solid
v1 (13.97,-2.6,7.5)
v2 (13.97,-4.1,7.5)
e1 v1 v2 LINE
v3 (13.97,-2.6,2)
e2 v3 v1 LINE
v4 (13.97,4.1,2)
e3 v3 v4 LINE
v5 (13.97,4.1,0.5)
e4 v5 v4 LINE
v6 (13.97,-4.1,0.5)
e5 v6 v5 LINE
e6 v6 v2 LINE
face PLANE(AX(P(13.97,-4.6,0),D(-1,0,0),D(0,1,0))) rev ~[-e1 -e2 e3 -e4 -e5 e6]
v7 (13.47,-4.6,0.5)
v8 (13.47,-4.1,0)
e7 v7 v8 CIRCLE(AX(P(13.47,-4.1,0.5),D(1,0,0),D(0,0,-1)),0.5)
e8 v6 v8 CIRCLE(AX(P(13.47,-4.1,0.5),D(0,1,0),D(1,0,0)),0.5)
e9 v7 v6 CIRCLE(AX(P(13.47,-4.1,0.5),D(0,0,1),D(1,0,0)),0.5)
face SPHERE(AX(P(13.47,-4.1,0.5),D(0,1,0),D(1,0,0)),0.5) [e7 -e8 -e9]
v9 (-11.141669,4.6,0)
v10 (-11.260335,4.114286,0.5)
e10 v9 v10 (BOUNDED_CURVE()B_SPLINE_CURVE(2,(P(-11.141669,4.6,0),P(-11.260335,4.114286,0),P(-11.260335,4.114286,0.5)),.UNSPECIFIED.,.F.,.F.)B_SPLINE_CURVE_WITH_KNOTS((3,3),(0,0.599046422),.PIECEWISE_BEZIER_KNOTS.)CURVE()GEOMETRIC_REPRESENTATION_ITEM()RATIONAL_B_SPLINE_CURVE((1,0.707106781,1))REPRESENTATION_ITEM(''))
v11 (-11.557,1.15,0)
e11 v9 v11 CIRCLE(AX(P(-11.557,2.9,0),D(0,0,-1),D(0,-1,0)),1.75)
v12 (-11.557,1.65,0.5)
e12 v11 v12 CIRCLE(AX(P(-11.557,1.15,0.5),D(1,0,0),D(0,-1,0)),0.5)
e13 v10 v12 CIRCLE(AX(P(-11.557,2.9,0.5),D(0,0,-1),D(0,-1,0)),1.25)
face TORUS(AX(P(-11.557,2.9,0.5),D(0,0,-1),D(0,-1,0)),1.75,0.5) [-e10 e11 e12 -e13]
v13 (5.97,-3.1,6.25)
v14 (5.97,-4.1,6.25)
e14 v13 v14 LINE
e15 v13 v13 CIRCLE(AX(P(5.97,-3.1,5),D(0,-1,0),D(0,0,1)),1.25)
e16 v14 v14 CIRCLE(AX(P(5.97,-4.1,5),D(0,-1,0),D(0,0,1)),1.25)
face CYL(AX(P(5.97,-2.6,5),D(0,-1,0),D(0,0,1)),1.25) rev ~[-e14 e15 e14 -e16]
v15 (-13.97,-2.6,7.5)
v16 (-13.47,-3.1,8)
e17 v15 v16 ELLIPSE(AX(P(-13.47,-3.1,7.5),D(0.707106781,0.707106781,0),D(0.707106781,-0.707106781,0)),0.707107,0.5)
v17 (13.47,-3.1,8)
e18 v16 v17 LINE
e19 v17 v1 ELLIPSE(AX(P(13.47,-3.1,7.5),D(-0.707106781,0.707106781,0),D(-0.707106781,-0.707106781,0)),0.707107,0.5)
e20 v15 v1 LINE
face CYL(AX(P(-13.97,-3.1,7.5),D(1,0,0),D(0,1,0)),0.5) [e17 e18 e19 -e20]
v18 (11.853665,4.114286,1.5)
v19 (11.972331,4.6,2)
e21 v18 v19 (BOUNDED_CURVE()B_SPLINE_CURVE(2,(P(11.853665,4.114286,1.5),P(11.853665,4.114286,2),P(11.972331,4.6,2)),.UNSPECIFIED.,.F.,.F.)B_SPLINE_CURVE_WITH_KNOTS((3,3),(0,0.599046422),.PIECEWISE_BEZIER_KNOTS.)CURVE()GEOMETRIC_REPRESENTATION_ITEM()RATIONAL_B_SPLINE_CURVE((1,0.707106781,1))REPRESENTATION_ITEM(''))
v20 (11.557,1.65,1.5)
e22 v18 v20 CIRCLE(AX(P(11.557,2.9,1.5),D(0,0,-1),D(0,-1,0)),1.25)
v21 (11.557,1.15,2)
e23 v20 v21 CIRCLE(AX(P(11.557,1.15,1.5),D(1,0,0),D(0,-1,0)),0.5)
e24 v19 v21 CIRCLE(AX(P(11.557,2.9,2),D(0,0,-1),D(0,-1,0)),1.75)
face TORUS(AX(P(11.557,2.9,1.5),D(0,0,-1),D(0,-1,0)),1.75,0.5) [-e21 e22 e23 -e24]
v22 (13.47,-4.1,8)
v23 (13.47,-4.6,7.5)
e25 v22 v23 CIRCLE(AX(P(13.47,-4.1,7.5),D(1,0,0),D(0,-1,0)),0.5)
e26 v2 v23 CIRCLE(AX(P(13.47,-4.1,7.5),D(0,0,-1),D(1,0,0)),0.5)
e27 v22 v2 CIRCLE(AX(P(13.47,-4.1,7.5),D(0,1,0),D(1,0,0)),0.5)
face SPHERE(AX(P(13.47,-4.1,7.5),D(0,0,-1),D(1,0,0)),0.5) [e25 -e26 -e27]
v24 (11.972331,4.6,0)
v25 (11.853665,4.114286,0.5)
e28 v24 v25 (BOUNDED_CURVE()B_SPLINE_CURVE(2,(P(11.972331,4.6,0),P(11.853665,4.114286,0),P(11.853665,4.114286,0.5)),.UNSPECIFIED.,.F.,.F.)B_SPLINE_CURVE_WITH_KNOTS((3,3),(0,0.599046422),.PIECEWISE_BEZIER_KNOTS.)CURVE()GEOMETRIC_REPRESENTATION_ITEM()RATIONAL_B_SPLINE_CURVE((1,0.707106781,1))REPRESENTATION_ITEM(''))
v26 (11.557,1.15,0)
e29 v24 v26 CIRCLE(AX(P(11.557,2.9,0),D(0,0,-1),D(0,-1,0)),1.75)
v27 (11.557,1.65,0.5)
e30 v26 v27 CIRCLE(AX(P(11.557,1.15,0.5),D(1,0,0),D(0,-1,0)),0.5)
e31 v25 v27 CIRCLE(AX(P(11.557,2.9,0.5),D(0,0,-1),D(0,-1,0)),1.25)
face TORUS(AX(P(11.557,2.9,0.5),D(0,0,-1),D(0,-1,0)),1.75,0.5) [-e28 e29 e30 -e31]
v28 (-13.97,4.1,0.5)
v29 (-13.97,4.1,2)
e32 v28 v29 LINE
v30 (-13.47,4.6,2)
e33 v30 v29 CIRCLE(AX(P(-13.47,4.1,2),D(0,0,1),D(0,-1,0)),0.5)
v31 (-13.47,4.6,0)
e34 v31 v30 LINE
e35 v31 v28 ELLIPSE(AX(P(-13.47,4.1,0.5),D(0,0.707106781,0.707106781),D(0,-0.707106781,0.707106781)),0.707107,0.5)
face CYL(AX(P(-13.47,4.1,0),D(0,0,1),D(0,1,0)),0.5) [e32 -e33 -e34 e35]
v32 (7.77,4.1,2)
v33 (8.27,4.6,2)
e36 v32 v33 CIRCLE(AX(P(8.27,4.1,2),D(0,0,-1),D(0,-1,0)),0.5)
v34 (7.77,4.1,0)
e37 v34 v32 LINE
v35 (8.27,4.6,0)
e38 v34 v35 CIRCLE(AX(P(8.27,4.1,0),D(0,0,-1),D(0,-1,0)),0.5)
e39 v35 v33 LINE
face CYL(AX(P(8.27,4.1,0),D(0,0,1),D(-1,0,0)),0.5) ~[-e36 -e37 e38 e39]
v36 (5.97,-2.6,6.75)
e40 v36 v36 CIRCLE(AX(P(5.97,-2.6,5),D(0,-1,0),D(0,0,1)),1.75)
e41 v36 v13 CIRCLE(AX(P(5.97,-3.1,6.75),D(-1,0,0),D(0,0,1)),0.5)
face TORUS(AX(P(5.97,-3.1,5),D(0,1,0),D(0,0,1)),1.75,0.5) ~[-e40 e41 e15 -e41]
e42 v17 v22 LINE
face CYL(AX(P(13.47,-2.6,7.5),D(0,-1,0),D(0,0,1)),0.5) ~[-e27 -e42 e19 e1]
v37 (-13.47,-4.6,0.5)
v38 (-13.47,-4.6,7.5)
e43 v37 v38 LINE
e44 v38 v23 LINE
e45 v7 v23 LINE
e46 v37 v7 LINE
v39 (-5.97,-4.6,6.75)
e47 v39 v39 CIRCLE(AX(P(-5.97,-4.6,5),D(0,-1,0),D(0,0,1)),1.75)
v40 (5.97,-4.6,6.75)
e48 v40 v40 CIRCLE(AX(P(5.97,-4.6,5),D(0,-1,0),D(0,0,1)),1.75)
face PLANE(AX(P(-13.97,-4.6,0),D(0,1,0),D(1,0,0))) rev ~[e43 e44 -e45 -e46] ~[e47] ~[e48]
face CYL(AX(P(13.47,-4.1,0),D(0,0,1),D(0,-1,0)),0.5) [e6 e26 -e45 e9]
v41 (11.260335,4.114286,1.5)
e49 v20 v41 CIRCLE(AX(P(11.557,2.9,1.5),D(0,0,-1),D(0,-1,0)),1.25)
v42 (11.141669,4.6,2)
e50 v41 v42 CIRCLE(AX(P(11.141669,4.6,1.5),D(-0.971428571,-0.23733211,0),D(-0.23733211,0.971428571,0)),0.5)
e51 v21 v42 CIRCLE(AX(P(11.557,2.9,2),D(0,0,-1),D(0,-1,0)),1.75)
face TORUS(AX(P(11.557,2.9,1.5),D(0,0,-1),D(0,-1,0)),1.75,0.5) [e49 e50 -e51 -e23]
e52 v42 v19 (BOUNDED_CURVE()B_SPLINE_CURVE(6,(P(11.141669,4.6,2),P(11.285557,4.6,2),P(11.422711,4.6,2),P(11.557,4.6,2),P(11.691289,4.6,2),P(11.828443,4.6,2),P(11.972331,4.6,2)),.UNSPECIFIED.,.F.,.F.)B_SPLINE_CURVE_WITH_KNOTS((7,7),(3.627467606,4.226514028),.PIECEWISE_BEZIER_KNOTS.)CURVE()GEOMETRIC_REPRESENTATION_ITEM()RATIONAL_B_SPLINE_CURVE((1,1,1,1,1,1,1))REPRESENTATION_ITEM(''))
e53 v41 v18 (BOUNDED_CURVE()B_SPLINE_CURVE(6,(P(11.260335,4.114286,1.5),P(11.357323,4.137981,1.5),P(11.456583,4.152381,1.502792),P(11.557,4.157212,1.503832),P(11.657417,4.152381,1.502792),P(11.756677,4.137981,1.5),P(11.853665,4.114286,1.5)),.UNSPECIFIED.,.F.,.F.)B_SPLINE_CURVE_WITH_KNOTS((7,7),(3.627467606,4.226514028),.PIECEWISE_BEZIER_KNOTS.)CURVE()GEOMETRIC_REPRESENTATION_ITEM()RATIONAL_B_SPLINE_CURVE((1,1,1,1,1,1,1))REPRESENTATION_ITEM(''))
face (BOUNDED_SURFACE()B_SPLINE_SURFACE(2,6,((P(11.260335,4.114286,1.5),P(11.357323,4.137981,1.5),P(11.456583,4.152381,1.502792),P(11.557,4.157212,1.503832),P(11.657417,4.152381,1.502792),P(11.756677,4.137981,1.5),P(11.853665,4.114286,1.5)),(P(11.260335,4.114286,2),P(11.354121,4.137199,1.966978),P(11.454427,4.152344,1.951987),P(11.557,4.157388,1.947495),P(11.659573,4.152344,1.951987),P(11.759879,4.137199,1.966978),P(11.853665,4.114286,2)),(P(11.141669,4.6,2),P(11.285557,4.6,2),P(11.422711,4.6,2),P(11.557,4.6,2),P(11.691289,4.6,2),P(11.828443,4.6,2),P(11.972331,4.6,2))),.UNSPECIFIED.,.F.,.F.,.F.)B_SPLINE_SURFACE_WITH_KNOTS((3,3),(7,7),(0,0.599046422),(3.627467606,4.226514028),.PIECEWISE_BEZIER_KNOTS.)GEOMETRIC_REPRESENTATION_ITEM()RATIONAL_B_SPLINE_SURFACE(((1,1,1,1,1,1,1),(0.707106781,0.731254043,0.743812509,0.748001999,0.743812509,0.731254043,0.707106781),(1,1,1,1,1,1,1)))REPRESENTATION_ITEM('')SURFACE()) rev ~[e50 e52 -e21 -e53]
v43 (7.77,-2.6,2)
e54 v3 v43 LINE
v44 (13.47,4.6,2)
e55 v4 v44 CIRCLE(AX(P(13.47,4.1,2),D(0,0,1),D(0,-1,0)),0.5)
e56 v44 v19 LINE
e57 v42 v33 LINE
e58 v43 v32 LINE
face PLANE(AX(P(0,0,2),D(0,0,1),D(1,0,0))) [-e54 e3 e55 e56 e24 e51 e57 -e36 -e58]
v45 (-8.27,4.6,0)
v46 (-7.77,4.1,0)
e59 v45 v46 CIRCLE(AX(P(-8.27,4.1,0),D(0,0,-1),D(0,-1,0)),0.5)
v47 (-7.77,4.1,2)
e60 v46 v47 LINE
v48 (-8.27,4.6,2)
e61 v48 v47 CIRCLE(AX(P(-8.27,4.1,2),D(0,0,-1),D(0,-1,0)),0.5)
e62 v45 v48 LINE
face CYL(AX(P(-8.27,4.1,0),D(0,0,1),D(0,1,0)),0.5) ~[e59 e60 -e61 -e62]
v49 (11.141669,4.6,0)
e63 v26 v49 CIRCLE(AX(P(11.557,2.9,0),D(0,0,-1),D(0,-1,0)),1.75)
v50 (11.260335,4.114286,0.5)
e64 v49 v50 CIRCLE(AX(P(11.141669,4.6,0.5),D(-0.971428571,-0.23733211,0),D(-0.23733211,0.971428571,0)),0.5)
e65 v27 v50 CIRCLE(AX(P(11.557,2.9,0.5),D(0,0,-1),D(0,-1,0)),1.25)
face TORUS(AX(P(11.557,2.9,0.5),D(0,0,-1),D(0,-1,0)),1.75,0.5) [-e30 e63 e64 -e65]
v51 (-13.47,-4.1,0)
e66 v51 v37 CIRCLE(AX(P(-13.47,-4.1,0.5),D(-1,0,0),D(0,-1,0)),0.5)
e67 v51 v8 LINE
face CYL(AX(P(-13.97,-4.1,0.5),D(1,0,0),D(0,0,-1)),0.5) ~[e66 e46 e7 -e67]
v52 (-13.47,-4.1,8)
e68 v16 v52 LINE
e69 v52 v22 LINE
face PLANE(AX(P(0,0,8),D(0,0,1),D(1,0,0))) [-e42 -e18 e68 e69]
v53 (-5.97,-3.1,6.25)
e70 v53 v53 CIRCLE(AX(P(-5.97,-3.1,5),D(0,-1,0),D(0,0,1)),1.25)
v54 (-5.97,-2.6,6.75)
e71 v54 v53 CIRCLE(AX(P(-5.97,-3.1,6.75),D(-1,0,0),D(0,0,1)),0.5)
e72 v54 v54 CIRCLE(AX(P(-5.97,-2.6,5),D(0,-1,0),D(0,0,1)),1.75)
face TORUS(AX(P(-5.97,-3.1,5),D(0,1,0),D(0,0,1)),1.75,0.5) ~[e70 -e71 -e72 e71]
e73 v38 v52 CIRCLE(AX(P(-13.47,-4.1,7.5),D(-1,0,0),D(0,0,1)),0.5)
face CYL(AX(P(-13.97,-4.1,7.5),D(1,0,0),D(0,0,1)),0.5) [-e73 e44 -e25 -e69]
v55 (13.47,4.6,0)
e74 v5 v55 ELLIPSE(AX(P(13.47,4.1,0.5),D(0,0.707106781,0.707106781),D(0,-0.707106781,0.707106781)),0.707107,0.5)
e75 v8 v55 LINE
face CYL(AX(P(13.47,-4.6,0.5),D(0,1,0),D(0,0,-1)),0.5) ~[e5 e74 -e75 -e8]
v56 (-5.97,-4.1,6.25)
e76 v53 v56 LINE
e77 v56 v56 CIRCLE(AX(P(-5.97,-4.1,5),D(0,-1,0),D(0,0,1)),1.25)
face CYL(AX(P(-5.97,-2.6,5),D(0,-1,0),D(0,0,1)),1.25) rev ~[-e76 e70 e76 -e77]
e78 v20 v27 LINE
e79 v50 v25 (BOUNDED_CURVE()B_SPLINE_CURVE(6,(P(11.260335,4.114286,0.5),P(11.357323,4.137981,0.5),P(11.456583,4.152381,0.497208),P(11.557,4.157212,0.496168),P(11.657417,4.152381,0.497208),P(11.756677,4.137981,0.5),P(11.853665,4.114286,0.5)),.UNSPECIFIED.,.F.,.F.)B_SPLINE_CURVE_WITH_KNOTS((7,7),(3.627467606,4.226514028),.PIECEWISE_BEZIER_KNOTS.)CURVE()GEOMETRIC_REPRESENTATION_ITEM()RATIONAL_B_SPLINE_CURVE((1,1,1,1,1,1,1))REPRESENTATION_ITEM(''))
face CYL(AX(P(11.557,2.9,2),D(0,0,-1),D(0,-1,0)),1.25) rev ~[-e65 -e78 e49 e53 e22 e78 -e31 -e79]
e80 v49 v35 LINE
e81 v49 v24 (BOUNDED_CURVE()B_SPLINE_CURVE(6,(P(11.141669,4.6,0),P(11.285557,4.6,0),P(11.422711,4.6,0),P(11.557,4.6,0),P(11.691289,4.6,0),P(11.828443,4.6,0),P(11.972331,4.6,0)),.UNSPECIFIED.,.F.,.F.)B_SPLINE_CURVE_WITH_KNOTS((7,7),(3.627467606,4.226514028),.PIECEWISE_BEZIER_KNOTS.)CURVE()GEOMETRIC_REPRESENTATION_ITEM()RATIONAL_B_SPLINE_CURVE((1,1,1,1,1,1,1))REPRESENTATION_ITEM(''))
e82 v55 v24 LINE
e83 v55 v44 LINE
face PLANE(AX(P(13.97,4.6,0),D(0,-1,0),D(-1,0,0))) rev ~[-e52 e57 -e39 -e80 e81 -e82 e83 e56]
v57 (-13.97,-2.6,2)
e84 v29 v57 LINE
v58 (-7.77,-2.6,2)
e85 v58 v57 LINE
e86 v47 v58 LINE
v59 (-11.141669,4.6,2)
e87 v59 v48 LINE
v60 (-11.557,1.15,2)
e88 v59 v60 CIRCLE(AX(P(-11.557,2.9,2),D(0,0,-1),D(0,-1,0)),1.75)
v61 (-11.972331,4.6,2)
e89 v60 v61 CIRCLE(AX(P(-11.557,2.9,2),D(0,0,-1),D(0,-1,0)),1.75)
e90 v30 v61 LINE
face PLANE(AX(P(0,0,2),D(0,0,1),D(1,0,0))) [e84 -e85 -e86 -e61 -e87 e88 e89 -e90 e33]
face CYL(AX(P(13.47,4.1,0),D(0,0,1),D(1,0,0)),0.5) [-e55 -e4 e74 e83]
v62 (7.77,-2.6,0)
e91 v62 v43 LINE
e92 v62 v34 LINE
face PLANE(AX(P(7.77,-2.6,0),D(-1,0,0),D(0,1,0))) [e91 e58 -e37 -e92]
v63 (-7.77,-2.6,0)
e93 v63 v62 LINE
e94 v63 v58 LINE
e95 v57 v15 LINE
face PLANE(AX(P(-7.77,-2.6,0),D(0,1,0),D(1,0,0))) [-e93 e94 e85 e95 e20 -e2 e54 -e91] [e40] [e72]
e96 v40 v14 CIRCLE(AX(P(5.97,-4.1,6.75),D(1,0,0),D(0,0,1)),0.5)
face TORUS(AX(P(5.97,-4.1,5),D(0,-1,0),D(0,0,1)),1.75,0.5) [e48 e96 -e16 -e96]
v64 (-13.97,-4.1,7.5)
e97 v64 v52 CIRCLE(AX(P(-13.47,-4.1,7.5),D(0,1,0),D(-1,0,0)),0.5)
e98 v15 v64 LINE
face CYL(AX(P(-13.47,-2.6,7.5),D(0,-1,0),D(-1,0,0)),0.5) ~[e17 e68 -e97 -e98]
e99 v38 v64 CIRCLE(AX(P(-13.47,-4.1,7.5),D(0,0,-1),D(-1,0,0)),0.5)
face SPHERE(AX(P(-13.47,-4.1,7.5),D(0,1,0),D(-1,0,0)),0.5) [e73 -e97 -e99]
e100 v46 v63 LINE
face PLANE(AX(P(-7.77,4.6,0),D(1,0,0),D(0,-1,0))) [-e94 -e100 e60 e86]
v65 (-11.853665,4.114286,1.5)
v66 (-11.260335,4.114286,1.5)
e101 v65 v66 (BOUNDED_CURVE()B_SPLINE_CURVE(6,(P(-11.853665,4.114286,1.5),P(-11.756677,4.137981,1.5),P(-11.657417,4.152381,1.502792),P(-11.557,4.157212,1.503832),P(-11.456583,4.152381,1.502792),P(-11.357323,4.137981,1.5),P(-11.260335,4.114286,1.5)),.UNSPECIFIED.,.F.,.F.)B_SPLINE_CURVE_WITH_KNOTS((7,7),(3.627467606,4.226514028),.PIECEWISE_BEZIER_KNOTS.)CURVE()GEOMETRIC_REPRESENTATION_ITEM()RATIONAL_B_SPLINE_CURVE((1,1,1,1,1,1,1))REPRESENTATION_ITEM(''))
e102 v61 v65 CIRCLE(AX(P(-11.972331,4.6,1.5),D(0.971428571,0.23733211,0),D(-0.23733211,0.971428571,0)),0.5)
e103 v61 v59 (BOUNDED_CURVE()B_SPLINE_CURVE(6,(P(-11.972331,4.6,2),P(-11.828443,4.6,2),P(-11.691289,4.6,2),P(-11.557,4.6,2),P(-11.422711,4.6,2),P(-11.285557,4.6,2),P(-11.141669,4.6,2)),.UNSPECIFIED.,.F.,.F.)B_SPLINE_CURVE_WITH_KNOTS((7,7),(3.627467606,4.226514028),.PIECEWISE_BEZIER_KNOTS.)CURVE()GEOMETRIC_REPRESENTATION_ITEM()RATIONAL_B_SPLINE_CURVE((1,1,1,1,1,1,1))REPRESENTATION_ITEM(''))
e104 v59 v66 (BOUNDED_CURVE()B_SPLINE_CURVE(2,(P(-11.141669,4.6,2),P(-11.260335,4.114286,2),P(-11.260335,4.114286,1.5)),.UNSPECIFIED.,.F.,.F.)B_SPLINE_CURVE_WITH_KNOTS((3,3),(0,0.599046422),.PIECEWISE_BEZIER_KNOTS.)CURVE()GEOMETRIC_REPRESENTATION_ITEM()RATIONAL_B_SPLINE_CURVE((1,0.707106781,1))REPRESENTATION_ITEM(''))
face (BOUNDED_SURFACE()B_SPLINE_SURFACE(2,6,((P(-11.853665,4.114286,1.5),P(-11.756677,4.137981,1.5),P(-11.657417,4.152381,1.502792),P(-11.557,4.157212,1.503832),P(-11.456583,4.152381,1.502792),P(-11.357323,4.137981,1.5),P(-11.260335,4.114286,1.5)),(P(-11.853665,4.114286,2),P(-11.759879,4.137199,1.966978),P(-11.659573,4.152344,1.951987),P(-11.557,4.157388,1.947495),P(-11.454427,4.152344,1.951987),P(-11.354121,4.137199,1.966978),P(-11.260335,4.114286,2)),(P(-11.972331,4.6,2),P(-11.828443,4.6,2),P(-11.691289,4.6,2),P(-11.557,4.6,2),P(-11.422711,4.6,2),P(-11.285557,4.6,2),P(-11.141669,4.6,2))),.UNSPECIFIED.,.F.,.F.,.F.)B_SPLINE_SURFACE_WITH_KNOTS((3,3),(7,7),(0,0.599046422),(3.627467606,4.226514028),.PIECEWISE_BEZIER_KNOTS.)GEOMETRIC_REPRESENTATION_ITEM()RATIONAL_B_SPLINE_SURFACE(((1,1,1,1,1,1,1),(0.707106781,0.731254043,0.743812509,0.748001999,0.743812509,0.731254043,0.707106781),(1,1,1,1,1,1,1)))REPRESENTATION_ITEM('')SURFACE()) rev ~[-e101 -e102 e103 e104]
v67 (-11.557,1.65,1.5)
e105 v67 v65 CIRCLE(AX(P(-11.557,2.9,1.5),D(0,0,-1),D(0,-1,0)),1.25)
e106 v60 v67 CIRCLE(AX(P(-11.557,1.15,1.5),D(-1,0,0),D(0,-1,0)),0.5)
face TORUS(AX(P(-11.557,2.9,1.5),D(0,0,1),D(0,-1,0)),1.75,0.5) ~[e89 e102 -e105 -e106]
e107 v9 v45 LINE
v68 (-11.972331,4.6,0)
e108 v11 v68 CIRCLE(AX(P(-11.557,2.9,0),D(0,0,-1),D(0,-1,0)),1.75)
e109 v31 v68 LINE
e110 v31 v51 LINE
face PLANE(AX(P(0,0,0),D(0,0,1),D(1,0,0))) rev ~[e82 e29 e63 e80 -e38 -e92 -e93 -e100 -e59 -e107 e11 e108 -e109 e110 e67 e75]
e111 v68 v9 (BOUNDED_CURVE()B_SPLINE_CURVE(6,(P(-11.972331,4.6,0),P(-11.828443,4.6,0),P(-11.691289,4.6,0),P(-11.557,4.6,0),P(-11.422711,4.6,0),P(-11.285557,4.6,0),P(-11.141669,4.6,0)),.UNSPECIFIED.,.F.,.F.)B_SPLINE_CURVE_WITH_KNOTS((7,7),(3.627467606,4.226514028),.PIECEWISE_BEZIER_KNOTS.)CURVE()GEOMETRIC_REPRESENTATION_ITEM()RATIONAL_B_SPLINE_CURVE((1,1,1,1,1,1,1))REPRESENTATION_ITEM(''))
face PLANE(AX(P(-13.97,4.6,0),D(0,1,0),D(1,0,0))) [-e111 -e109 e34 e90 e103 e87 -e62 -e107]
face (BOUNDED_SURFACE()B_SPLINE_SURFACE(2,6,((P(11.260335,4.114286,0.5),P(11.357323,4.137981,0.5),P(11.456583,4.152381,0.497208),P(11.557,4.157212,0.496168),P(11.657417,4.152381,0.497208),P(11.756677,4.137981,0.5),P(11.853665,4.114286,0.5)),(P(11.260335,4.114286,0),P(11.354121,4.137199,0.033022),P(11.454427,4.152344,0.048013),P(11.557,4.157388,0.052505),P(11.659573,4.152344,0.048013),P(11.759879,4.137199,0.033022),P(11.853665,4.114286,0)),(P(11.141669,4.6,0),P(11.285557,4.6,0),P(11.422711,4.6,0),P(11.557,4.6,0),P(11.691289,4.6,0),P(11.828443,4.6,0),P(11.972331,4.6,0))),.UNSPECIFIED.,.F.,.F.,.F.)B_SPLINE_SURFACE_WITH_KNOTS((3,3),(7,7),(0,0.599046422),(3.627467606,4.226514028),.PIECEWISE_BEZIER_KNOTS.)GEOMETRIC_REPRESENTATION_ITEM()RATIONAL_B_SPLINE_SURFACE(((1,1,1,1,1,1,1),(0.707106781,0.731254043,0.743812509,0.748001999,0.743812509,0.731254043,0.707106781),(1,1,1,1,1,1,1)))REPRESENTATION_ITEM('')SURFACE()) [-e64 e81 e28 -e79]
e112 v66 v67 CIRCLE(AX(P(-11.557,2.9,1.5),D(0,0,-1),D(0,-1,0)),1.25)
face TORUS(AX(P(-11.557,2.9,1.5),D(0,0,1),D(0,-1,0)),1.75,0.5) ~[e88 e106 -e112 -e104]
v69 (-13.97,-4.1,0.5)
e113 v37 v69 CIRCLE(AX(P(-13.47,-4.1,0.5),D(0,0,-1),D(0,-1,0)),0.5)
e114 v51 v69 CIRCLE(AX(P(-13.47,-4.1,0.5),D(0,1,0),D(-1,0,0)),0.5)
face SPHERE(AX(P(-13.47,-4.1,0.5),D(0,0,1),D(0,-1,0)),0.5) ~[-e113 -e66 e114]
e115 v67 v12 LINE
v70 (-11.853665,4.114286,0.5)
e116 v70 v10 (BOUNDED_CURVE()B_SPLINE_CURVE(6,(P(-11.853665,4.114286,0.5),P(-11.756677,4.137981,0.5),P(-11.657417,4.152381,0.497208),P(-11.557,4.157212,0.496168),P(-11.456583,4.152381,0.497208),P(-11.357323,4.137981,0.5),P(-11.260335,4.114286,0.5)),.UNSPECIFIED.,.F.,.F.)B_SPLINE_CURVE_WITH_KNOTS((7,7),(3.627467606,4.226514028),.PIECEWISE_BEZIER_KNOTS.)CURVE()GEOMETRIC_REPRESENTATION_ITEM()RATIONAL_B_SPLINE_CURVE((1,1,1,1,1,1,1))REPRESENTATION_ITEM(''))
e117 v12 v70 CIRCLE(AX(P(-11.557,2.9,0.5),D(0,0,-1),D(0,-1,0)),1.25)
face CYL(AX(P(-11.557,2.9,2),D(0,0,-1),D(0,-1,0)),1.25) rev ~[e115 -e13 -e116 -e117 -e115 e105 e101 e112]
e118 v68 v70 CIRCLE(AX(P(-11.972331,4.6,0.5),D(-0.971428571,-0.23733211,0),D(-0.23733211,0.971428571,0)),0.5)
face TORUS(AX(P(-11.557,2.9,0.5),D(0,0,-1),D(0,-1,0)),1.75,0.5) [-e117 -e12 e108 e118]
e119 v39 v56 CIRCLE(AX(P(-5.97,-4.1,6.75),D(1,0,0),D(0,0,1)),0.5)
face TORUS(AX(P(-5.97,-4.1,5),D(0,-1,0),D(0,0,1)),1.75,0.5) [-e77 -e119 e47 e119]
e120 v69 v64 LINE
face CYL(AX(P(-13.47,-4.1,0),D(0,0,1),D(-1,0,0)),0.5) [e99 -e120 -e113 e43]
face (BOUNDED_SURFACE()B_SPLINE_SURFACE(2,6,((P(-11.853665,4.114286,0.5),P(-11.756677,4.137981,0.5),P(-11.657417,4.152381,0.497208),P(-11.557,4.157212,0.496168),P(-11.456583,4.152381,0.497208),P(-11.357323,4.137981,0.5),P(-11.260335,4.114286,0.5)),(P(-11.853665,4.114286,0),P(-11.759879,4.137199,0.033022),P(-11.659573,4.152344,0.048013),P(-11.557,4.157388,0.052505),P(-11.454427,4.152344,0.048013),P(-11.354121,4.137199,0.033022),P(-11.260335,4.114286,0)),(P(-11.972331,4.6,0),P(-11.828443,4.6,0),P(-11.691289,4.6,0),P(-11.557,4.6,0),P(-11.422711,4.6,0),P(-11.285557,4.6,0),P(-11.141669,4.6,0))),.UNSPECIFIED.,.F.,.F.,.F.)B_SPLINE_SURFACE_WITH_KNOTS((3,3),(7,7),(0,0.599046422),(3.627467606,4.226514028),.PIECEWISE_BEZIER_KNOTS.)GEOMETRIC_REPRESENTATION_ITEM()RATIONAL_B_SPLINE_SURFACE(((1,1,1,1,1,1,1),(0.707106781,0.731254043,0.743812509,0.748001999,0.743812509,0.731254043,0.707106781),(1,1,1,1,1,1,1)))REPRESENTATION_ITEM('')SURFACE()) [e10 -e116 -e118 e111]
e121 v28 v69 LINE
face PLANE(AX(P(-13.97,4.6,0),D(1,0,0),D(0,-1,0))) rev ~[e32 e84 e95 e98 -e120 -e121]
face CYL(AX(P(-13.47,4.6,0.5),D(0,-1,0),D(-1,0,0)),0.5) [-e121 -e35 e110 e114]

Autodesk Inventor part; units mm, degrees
ref_plane "YZ Plane" through (0, 0, 0) normal (1, 0, 0) x (0, 1, 0)
ref_plane "XZ Plane" through (0, 0, 0) normal (0, 1, 0) x (-1, 0, 0)
ref_plane "XY Plane" through (0, 0, 0) normal (0, 0, 1) x (1, 0, 0)
sketch "Sketch1" plane through (0, 0, 0) normal (0, 0, 1) x (1, 0, 0)
  line L0 (-13.97, 4.6) -> (-13.97, -4.6)
  line L1 (-13.97, -4.6) -> (13.97, -4.6)
  line L2 (13.97, -4.6) -> (13.97, 4.6)
  line L3 (13.97, 4.6) -> (7.77, 4.6)
  line L4 (-13.97, 4.6) -> (-7.77, 4.6)
  line L5 (-13.97, 4.6) -> (13.97, -4.6) construction
  line L6 (13.97, 4.6) -> (-13.97, -4.6) construction
  line L7 (-7.77, 4.6) -> (-7.77, -2.6)
  line L8 (-7.77, -2.6) -> (7.77, -2.6)
  line L9 (7.77, -2.6) -> (7.77, 4.6)
  point P0 (0, 0)
  point P1 (0, 0)
  dimension "d1" = 27.94
  dimension "d3" = 6.2
  dimension "d5" = 9.2
  dimension "d6" = 7.2
extrude "Extrusion1" add sketch "Sketch1" along normal blind 2
sketch "Sketch2" plane through (0, 0, 2) normal (0, 0, 1) x (1, 0, 0)
  line L0 (13.97, 4.6) -> (13.97, -4.6) projected
  line L1 (-7.77, -2.6) -> (7.77, -2.6) projected
  line L2 (-13.97, -4.6) -> (13.97, -4.6)
  line L3 (13.97, -4.6) -> (13.97, -2.6)
  line L4 (13.97, -2.6) -> (-13.97, -2.6)
  line L5 (-13.97, -2.6) -> (-13.97, -4.6)
  point P0 (0, 0)
extrude "Extrusion2" add sketch "Sketch2" along normal blind 6
hole "Hole3" at (-5.97, -2.6, 5) direction (0, -1, 0) diameter 2.5 end through all
hole "Hole4" at (5.97, -2.6, 5) direction (0, -1, 0) diameter 2.5 end through all
sketch "Sketch3" plane through (0, 0, 2) normal (0, 0, 1) x (1, 0, 0)
  line L0 (-13.97, -2.6) -> (-13.97, 4.6) projected
  line L1 (-11.557, 2.9) -> (11.557, 2.9) construction
  line L2 (-13.97, -2.6) -> (13.97, -2.6) construction
  line L3 (0, 0) -> (0, 2.9) construction
  dimension "d47" = 23.114
  dimension "d48" = 5.5
hole "Hole5" at (-11.557, 2.9, 2) at (11.557, 2.9, 2) direction (0, 0, -1) diameter 2.5 end through all
fillet "Fillet1" radius 0.5 21 edges at (-11.557, 4.15, 0) (11.557, 4.15, 0) (-11.557, 4.15, 2) (11.557, 4.15, 2) (-5.97, -2.6, 3.75) (-5.97, -4.6, 3.75) (5.97, -2.6, 3.75) (5.97, -4.6, 3.75) (-13.97, 4.6, 1) (-7.77, 4.6, 1) (7.77, 4.6, 1) (13.97, 4.6, 1) (13.97, 0, 0) (13.97, -4.6, 4) (13.97, -3.6, 8) (-13.97, -3.6, 8) (-13.97, -4.6, 4) (0, -4.6, 0) (-13.97, 0, 0) (0, -4.6, 8) (0, -2.6, 8)
properties part number "Stepper_Bracket" material "Aluminum-6061"
